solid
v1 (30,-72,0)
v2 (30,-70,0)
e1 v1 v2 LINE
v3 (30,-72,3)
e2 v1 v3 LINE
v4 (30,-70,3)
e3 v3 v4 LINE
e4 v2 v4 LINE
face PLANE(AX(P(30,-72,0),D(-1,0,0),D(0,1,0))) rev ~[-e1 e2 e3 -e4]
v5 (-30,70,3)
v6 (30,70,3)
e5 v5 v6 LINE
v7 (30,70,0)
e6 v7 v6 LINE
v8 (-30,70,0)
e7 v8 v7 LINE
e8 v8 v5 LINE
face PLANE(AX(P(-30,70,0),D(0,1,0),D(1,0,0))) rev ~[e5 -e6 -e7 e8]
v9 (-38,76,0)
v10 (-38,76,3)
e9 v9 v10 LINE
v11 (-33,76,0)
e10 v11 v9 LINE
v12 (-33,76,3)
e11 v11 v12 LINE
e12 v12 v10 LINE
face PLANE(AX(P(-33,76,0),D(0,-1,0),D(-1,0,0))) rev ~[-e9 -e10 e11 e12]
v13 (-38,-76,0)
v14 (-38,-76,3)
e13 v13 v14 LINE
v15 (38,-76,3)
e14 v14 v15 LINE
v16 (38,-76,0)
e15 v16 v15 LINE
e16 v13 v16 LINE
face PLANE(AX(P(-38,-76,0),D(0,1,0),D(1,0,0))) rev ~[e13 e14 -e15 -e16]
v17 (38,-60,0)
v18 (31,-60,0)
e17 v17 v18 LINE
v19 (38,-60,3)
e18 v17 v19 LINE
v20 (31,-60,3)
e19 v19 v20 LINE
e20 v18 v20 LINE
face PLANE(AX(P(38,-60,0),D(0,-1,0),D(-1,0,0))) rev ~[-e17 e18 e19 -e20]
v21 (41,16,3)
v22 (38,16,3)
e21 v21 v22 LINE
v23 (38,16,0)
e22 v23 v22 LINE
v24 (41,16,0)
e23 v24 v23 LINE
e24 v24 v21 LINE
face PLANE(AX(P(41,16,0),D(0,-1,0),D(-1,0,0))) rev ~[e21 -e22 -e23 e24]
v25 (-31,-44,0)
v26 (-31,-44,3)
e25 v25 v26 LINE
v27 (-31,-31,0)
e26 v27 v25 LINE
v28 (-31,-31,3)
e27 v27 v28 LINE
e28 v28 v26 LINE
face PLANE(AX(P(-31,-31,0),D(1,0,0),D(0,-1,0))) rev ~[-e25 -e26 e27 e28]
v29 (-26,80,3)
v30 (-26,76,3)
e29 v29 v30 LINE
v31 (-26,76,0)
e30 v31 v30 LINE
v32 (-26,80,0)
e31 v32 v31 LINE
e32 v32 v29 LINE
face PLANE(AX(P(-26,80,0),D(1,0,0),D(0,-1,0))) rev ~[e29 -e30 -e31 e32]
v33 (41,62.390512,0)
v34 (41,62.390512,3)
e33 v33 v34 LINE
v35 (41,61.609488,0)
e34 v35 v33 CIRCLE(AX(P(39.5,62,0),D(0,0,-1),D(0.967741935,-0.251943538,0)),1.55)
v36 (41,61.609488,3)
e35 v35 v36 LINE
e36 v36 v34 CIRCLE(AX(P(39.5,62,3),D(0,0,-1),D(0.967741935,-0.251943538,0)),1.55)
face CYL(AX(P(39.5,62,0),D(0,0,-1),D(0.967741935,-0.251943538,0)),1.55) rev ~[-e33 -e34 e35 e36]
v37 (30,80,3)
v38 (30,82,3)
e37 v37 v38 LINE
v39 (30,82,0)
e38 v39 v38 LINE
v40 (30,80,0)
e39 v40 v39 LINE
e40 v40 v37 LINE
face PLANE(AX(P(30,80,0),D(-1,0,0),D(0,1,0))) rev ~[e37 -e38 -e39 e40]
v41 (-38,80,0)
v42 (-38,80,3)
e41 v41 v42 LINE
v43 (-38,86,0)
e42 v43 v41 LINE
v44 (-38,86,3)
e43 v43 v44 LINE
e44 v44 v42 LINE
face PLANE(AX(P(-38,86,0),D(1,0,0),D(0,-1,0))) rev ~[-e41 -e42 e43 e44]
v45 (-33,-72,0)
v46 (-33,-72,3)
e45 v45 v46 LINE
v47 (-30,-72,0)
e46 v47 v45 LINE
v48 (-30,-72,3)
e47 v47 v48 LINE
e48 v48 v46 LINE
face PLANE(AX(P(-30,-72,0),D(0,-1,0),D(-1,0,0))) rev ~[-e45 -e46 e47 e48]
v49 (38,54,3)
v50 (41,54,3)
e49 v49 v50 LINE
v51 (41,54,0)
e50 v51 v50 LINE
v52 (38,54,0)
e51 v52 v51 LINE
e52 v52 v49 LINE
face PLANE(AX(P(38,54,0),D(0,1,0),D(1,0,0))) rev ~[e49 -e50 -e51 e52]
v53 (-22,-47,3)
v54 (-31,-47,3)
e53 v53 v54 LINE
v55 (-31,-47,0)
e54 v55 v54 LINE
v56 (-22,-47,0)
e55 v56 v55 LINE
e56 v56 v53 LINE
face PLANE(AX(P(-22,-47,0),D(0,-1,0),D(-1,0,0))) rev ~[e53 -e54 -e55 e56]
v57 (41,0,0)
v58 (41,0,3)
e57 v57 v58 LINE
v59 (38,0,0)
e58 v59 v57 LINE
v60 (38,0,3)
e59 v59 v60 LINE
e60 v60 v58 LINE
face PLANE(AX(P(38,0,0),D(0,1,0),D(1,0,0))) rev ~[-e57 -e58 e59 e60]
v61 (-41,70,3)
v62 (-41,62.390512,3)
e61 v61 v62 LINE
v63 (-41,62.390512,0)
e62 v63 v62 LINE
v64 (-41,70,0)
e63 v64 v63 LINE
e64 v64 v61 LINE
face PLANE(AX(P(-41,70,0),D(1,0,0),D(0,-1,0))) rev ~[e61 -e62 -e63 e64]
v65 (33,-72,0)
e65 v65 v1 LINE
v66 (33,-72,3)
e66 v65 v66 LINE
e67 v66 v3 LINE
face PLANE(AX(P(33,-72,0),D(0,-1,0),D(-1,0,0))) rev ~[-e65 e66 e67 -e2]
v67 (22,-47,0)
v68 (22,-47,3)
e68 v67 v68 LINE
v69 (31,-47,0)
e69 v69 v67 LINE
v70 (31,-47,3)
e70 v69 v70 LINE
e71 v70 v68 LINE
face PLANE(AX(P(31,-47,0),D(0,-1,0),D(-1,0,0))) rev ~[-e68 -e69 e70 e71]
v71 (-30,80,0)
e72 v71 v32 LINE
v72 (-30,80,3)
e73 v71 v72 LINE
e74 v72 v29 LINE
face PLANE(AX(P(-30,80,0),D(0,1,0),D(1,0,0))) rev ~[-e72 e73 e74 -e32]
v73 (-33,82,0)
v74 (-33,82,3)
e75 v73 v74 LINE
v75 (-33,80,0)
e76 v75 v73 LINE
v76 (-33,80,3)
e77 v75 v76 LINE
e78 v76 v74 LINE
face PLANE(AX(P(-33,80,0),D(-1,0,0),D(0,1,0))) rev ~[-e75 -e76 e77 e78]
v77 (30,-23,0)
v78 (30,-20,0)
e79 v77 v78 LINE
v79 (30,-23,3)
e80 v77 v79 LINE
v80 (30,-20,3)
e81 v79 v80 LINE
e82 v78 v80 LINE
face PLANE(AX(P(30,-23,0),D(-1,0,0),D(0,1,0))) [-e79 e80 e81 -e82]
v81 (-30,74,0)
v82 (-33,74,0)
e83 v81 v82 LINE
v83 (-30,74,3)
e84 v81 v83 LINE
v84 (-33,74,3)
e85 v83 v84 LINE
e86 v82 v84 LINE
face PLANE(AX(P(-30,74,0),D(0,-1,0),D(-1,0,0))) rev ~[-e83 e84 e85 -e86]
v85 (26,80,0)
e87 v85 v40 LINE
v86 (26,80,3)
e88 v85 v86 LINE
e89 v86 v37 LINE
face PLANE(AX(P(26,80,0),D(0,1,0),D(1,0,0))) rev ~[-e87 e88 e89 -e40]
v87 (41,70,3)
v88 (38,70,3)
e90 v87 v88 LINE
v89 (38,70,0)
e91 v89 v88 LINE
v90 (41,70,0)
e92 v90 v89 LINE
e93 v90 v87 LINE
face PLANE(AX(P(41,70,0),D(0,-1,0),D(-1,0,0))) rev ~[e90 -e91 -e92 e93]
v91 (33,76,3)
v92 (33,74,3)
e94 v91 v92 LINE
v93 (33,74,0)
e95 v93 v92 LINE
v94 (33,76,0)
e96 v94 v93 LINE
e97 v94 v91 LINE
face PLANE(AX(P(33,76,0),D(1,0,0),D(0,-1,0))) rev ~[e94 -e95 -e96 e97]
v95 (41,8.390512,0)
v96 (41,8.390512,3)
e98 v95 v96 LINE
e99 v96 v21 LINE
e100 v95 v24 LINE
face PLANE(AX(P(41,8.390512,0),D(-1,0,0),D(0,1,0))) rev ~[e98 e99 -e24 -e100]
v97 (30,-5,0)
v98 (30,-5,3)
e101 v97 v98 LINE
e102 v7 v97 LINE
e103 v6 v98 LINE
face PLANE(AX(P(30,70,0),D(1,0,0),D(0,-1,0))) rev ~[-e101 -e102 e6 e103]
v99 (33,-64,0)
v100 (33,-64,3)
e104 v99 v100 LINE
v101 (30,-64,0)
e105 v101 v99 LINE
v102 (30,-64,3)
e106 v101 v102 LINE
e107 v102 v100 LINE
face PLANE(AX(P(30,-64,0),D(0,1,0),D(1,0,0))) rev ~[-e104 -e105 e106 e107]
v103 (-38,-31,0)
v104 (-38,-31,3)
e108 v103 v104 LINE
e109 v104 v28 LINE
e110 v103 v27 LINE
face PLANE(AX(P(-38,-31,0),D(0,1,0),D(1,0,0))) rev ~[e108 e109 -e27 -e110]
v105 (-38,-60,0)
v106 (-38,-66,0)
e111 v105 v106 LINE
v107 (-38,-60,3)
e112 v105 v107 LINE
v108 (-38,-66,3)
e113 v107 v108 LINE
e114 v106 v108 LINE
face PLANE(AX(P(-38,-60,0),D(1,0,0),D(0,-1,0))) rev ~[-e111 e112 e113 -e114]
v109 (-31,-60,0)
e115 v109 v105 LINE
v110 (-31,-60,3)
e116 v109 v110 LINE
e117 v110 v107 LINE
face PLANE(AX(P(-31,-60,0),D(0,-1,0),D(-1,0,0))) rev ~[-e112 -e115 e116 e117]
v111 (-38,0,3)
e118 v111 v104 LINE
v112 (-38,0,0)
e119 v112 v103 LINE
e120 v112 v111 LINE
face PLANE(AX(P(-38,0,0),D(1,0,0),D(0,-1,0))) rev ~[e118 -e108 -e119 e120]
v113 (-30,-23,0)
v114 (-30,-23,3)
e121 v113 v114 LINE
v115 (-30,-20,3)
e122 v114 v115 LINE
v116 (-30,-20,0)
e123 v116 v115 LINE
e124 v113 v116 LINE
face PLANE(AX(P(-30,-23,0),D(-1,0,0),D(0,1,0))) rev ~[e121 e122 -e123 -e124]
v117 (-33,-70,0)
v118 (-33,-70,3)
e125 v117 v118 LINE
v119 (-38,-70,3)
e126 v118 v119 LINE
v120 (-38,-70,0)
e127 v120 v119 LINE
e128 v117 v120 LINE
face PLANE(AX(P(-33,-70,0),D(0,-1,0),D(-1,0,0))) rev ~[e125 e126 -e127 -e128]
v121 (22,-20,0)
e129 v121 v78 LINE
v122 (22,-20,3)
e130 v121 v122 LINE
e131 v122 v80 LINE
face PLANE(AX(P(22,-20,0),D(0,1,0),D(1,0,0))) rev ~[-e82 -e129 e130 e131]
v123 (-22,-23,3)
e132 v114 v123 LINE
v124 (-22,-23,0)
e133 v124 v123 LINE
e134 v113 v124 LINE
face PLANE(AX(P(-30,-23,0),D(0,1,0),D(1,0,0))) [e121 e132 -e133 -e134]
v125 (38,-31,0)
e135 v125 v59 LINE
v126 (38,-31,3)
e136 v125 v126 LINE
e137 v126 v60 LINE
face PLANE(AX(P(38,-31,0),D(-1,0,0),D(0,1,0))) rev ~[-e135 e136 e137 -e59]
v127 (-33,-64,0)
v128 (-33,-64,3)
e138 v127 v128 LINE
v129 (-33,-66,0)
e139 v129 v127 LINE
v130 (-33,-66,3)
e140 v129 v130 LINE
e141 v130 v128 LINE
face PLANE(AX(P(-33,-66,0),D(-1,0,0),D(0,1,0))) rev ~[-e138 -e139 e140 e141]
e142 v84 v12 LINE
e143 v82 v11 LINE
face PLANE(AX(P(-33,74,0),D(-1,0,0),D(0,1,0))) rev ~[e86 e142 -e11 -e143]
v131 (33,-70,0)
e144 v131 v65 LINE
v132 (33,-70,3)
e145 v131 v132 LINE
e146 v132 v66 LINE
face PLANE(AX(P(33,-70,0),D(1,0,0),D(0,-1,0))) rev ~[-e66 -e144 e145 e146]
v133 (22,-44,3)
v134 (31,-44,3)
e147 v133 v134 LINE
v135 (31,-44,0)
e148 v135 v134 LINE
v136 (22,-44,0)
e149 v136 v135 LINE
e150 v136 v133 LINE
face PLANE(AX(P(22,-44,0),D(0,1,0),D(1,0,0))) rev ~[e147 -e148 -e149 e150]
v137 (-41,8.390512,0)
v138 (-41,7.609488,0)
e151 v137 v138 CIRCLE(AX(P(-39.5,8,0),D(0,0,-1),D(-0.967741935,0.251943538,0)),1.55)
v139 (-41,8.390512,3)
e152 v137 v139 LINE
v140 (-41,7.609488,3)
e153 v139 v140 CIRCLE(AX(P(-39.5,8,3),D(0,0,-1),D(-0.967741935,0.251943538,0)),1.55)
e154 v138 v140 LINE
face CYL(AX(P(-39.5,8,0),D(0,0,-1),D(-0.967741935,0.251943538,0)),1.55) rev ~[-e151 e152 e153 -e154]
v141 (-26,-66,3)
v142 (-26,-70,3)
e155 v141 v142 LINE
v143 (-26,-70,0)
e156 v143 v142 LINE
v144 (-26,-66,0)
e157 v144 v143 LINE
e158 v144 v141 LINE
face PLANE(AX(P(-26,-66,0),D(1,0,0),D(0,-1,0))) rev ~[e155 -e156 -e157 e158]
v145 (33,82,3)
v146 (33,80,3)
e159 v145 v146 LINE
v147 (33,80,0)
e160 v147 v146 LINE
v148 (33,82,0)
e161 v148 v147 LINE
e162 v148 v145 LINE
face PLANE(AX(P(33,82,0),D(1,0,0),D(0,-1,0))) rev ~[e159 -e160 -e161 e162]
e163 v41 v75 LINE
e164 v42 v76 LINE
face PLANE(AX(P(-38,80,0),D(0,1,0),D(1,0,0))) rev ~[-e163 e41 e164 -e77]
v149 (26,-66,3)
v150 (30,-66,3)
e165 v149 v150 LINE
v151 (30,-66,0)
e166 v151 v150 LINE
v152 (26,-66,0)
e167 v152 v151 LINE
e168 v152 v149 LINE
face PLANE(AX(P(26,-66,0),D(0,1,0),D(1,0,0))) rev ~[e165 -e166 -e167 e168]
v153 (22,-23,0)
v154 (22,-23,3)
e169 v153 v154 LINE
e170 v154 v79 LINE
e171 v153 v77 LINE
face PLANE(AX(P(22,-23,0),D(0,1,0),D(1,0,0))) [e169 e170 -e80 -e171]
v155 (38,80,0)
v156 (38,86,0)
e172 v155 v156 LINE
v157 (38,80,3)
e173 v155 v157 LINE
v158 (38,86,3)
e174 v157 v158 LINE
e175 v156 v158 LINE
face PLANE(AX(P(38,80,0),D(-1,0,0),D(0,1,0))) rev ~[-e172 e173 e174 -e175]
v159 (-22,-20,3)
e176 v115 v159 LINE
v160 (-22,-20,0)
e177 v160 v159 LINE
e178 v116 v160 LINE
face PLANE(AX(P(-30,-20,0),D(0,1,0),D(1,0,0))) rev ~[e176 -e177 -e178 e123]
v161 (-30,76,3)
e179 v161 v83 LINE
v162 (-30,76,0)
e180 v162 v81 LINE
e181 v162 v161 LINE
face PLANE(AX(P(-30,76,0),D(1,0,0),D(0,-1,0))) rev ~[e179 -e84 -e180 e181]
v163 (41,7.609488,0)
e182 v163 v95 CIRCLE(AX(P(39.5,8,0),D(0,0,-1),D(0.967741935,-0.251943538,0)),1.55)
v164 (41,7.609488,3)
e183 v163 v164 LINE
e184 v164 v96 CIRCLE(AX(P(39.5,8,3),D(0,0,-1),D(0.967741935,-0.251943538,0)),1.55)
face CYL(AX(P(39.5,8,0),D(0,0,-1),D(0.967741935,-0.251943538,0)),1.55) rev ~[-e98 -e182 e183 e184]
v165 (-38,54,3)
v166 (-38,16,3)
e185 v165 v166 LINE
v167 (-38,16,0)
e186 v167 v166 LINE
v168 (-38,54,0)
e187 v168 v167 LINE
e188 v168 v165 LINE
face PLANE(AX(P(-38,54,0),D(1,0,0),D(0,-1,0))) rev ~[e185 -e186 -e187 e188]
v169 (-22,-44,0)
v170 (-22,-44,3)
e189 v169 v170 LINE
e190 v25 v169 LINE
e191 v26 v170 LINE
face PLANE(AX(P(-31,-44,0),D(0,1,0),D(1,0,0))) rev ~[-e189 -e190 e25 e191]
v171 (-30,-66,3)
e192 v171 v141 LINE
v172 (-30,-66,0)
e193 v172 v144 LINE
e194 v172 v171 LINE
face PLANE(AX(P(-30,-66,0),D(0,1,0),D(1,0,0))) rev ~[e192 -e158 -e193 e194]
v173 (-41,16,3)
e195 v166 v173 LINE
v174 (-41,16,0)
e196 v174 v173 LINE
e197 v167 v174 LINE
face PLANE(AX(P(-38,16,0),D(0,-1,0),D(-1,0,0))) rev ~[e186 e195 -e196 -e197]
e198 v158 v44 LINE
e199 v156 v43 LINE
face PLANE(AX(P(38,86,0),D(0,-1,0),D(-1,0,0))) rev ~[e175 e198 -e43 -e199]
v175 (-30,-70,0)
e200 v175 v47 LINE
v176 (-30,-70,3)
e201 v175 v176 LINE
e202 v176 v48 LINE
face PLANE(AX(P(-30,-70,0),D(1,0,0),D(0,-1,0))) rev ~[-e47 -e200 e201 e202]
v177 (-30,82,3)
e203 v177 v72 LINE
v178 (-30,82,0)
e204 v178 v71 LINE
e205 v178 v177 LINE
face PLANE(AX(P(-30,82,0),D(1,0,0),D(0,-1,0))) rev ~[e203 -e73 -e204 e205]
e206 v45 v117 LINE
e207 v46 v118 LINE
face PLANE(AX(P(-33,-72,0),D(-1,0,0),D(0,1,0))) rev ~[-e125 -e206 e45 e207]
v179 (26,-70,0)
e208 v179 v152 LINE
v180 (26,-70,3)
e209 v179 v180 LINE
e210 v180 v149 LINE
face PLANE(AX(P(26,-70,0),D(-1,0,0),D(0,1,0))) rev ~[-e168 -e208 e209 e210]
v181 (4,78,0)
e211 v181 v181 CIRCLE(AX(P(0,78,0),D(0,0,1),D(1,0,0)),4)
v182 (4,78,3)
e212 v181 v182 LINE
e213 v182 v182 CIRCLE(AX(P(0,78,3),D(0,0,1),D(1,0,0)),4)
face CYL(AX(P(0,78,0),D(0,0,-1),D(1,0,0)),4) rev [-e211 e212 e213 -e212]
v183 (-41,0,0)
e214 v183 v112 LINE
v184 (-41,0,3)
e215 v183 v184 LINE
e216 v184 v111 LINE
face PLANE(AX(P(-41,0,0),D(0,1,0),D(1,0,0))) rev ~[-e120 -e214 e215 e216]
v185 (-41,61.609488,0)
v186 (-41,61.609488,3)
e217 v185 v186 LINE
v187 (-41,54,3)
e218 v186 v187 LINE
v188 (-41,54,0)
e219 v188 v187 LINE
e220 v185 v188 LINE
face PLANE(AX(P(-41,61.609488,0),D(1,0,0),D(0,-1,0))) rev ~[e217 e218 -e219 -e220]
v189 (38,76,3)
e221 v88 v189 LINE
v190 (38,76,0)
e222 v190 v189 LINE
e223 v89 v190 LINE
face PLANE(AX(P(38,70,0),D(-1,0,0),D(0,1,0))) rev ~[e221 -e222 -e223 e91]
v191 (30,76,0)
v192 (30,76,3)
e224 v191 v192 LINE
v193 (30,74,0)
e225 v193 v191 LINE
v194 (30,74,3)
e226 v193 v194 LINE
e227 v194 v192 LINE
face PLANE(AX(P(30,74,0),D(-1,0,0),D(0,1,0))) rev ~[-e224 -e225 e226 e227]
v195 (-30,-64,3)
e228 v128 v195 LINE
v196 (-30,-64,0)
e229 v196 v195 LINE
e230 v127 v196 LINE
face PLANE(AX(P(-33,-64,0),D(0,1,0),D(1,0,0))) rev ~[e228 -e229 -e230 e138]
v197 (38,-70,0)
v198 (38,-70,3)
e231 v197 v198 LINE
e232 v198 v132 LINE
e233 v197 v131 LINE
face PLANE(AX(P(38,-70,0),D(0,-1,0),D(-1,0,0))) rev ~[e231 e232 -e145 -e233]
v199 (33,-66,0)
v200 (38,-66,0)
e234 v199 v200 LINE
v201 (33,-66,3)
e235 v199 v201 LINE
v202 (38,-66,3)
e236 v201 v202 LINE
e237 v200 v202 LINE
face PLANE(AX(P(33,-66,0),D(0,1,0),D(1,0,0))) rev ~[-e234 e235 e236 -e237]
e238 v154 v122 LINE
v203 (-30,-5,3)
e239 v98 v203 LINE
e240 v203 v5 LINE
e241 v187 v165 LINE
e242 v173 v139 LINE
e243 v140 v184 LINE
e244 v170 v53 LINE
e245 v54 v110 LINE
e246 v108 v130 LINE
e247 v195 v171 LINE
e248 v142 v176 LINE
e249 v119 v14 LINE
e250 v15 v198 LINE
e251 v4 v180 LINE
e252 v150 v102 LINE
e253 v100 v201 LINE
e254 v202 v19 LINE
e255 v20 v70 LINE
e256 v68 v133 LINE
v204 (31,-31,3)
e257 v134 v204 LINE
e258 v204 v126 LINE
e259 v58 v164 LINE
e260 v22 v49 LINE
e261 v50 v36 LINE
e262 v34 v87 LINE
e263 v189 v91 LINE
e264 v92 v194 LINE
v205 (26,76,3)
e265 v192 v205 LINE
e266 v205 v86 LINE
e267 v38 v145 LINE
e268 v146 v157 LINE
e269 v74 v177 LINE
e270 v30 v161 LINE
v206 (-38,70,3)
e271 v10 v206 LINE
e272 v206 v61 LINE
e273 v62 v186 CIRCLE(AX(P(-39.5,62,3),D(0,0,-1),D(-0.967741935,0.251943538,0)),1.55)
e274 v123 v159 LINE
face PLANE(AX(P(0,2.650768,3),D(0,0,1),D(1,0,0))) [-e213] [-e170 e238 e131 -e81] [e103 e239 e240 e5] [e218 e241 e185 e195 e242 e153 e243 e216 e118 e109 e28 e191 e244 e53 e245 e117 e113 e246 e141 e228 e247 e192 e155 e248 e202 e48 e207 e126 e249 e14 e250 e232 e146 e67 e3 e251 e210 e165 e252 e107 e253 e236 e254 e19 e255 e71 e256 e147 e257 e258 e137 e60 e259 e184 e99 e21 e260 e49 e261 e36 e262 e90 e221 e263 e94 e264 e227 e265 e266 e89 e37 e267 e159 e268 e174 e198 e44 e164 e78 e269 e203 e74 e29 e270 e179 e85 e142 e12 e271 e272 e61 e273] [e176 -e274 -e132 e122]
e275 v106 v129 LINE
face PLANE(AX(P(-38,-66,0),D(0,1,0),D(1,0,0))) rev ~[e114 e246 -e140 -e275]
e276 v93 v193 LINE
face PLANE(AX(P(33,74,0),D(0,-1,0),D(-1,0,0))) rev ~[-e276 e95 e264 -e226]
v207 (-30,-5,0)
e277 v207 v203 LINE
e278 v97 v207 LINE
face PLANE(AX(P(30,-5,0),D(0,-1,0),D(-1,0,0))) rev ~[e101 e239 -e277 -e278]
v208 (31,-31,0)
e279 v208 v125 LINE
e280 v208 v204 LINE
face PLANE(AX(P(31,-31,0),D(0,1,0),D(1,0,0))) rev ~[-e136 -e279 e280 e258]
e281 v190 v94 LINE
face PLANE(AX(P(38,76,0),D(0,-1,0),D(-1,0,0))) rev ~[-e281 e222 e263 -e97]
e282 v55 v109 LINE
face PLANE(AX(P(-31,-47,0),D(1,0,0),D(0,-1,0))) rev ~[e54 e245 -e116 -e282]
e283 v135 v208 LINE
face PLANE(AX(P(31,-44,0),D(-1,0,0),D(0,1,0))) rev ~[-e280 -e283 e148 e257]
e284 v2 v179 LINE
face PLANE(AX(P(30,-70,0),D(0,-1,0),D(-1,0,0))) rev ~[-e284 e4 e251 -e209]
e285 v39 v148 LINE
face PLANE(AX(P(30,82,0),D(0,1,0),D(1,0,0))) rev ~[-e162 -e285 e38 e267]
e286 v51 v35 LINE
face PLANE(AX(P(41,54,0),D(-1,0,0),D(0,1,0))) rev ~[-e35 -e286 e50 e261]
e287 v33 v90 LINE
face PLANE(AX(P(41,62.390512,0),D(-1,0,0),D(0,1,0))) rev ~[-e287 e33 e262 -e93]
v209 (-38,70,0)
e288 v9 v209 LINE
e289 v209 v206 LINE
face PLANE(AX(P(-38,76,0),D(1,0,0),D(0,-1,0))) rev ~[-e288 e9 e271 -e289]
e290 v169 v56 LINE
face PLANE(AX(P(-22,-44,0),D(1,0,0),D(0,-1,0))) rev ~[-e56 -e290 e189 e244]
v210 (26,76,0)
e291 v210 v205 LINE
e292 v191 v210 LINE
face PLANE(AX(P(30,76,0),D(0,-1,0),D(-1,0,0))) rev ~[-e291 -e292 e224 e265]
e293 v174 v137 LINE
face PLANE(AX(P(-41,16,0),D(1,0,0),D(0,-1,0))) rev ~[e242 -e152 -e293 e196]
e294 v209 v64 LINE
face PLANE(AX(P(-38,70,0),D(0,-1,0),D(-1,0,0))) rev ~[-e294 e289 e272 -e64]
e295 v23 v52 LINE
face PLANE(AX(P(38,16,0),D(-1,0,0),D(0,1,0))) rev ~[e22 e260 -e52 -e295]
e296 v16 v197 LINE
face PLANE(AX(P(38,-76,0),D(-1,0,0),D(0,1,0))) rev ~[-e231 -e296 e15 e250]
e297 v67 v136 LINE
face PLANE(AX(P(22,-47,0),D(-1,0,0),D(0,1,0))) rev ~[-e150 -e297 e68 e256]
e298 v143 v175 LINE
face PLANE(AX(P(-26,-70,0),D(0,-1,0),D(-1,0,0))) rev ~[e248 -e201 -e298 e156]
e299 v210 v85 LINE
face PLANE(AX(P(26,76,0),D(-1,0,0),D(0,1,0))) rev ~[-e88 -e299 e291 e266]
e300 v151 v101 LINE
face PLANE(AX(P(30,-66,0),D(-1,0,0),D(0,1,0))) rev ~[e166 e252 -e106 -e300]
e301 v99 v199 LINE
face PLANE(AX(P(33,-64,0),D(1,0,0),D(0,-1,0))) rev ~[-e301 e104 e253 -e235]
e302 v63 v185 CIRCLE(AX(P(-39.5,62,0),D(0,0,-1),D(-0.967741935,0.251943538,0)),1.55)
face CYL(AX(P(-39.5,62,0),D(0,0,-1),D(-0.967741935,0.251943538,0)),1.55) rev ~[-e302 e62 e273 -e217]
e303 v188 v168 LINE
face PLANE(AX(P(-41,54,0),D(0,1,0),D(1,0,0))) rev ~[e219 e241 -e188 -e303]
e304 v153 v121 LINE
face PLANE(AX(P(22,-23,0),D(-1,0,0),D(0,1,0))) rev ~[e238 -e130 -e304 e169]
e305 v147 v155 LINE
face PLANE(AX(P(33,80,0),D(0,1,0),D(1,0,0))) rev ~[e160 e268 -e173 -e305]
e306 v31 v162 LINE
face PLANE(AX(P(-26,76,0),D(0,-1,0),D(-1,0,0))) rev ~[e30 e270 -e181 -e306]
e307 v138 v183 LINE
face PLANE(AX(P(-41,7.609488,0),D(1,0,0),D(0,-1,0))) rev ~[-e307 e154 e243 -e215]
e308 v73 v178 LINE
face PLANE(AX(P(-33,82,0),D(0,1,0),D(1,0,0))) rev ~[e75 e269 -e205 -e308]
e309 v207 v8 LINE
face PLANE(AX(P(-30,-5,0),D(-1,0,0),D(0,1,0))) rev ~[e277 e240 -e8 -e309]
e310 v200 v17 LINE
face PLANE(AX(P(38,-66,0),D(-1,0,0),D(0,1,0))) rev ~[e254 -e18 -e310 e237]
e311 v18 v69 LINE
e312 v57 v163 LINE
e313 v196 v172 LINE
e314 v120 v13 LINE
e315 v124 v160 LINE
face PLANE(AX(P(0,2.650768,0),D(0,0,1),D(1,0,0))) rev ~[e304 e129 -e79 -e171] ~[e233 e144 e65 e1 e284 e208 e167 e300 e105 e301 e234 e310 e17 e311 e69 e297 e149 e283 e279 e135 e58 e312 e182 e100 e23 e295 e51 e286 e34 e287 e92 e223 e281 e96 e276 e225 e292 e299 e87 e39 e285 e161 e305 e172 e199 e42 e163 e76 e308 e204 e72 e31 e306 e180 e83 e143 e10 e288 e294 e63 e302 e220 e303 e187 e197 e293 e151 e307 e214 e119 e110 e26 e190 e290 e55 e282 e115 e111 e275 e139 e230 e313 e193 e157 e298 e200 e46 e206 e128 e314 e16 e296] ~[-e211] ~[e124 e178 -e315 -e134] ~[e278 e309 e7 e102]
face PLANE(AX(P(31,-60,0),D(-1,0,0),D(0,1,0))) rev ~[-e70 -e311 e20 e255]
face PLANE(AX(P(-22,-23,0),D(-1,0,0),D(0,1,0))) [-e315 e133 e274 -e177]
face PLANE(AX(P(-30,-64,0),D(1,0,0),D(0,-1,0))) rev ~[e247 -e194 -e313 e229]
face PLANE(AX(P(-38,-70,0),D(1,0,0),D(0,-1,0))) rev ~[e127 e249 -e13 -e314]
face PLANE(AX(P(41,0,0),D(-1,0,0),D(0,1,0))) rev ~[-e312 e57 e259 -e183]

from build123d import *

# Parameters (mm, degrees)
SKETCH_1_W      = 8
SKETCH_1_H      = 3
SKETCH_1_R      = 4
EXTRUDE_1_DEPTH = 3


with BuildPart() as part:
    # 草图1 → 凸台-拉伸1 (new body)
    with BuildSketch(Plane.XY):
        with BuildLine():
            Line((38, 80), (38, 86))
            Line((38, 86), (-38, 86))
            Line((-38, 86), (-38, 80))
            Line((-38, 80), (-33, 80))
            Line((-33, 80), (-33, 82))
            Line((-33, 82), (-30, 82))
            Line((-30, 82), (-30, 80))
            Line((-30, 80), (-26, 80))
            Line((-26, 80), (-26, 76))
            Line((-26, 76), (-30, 76))
            Line((-30, 76), (-30, 74))
            Line((-30, 74), (-33, 74))
            Line((-33, 74), (-33, 76))
            Line((-33, 76), (-38, 76))
            Line((-38, 76), (-38, 70))
            Line((-38, 70), (-41, 70))
            Line((-41, 70), (-41, 62.390512484))
            ThreePointArc((-41, 62.390512484), (-37.95, 62), (-41, 61.609487516))
            Line((-41, 61.609487516), (-41, 54))
            Line((-41, 54), (-38, 54))
            Line((-38, 54), (-38, 16))
            Line((-38, 16), (-41, 16))
            Line((-41, 16), (-41, 8.390512484))
            ThreePointArc((-41, 8.390512484), (-37.95, 8), (-41, 7.609487516))
            Line((-41, 7.609487516), (-41, 0))
            Line((-41, 0), (-38, 0))
            Line((-38, 0), (-38, -31))
            Line((-38, -31), (-31, -31))
            Line((-31, -31), (-31, -44))
            Line((-31, -44), (-22, -44))
            Line((-22, -44), (-22, -47))
            Line((-22, -47), (-31, -47))
            Line((-31, -47), (-31, -60))
            Line((-31, -60), (-38, -60))
            Line((-38, -60), (-38, -66))
            Line((-38, -66), (-33, -66))
            Line((-33, -66), (-33, -64))
            Line((-33, -64), (-30, -64))
            Line((-30, -64), (-30, -66))
            Line((-30, -66), (-26, -66))
            Line((-26, -66), (-26, -70))
            Line((-26, -70), (-30, -70))
            Line((-30, -70), (-30, -72))
            Line((-30, -72), (-33, -72))
            Line((-33, -72), (-33, -70))
            Line((-33, -70), (-38, -70))
            Line((-38, -70), (-38, -76))
            Line((-38, -76), (38, -76))
            Line((38, -76), (38, -70))
            Line((38, -70), (33, -70))
            Line((33, -70), (33, -72))
            Line((33, -72), (30, -72))
            Line((30, -72), (30, -70))
            Line((30, -70), (26, -70))
            Line((26, -70), (26, -66))
            Line((26, -66), (30, -66))
            Line((30, -66), (30, -64))
            Line((30, -64), (33, -64))
            Line((33, -64), (33, -66))
            Line((33, -66), (38, -66))
            Line((38, -66), (38, -60))
            Line((38, -60), (31, -60))
            Line((31, -60), (31, -47))
            Line((31, -47), (22, -47))
            Line((22, -47), (22, -44))
            Line((22, -44), (31, -44))
            Line((31, -44), (31, -31))
            Line((31, -31), (38, -31))
            Line((38, -31), (38, 0))
            Line((38, 0), (41, 0))
            Line((41, 0), (41, 7.609487516))
            ThreePointArc((41, 7.609487516), (37.95, 8), (41, 8.390512484))
            Line((41, 8.390512484), (41, 16))
            Line((41, 16), (38, 16))
            Line((38, 16), (38, 54))
            Line((38, 54), (41, 54))
            Line((41, 54), (41, 61.609487516))
            ThreePointArc((41, 61.609487516), (37.95, 62), (41, 62.390512484))
            Line((41, 62.390512484), (41, 70))
            Line((41, 70), (38, 70))
            Line((38, 70), (38, 76))
            Line((38, 76), (33, 76))
            Line((33, 76), (33, 74))
            Line((33, 74), (30, 74))
            Line((30, 74), (30, 76))
            Line((30, 76), (26, 76))
            Line((26, 76), (26, 80))
            Line((26, 80), (30, 80))
            Line((30, 80), (30, 82))
            Line((30, 82), (33, 82))
            Line((33, 82), (33, 80))
            Line((33, 80), (38, 80))
        make_face()
        with Locations((-26, -21.5)):
            Rectangle(SKETCH_1_W, SKETCH_1_H, mode=Mode.SUBTRACT)
        with Locations((26, -21.5)):
            Rectangle(SKETCH_1_W, SKETCH_1_H, mode=Mode.SUBTRACT)
        Polygon((-30, -5), (-30, 0), (-30, 70), (30, 70), (30, 0), (30, -5), align=None, mode=Mode.SUBTRACT)
        with Locations((0, 78)):
            Circle(SKETCH_1_R, mode=Mode.SUBTRACT)
    extrude(amount=EXTRUDE_1_DEPTH)


solid = part.part
